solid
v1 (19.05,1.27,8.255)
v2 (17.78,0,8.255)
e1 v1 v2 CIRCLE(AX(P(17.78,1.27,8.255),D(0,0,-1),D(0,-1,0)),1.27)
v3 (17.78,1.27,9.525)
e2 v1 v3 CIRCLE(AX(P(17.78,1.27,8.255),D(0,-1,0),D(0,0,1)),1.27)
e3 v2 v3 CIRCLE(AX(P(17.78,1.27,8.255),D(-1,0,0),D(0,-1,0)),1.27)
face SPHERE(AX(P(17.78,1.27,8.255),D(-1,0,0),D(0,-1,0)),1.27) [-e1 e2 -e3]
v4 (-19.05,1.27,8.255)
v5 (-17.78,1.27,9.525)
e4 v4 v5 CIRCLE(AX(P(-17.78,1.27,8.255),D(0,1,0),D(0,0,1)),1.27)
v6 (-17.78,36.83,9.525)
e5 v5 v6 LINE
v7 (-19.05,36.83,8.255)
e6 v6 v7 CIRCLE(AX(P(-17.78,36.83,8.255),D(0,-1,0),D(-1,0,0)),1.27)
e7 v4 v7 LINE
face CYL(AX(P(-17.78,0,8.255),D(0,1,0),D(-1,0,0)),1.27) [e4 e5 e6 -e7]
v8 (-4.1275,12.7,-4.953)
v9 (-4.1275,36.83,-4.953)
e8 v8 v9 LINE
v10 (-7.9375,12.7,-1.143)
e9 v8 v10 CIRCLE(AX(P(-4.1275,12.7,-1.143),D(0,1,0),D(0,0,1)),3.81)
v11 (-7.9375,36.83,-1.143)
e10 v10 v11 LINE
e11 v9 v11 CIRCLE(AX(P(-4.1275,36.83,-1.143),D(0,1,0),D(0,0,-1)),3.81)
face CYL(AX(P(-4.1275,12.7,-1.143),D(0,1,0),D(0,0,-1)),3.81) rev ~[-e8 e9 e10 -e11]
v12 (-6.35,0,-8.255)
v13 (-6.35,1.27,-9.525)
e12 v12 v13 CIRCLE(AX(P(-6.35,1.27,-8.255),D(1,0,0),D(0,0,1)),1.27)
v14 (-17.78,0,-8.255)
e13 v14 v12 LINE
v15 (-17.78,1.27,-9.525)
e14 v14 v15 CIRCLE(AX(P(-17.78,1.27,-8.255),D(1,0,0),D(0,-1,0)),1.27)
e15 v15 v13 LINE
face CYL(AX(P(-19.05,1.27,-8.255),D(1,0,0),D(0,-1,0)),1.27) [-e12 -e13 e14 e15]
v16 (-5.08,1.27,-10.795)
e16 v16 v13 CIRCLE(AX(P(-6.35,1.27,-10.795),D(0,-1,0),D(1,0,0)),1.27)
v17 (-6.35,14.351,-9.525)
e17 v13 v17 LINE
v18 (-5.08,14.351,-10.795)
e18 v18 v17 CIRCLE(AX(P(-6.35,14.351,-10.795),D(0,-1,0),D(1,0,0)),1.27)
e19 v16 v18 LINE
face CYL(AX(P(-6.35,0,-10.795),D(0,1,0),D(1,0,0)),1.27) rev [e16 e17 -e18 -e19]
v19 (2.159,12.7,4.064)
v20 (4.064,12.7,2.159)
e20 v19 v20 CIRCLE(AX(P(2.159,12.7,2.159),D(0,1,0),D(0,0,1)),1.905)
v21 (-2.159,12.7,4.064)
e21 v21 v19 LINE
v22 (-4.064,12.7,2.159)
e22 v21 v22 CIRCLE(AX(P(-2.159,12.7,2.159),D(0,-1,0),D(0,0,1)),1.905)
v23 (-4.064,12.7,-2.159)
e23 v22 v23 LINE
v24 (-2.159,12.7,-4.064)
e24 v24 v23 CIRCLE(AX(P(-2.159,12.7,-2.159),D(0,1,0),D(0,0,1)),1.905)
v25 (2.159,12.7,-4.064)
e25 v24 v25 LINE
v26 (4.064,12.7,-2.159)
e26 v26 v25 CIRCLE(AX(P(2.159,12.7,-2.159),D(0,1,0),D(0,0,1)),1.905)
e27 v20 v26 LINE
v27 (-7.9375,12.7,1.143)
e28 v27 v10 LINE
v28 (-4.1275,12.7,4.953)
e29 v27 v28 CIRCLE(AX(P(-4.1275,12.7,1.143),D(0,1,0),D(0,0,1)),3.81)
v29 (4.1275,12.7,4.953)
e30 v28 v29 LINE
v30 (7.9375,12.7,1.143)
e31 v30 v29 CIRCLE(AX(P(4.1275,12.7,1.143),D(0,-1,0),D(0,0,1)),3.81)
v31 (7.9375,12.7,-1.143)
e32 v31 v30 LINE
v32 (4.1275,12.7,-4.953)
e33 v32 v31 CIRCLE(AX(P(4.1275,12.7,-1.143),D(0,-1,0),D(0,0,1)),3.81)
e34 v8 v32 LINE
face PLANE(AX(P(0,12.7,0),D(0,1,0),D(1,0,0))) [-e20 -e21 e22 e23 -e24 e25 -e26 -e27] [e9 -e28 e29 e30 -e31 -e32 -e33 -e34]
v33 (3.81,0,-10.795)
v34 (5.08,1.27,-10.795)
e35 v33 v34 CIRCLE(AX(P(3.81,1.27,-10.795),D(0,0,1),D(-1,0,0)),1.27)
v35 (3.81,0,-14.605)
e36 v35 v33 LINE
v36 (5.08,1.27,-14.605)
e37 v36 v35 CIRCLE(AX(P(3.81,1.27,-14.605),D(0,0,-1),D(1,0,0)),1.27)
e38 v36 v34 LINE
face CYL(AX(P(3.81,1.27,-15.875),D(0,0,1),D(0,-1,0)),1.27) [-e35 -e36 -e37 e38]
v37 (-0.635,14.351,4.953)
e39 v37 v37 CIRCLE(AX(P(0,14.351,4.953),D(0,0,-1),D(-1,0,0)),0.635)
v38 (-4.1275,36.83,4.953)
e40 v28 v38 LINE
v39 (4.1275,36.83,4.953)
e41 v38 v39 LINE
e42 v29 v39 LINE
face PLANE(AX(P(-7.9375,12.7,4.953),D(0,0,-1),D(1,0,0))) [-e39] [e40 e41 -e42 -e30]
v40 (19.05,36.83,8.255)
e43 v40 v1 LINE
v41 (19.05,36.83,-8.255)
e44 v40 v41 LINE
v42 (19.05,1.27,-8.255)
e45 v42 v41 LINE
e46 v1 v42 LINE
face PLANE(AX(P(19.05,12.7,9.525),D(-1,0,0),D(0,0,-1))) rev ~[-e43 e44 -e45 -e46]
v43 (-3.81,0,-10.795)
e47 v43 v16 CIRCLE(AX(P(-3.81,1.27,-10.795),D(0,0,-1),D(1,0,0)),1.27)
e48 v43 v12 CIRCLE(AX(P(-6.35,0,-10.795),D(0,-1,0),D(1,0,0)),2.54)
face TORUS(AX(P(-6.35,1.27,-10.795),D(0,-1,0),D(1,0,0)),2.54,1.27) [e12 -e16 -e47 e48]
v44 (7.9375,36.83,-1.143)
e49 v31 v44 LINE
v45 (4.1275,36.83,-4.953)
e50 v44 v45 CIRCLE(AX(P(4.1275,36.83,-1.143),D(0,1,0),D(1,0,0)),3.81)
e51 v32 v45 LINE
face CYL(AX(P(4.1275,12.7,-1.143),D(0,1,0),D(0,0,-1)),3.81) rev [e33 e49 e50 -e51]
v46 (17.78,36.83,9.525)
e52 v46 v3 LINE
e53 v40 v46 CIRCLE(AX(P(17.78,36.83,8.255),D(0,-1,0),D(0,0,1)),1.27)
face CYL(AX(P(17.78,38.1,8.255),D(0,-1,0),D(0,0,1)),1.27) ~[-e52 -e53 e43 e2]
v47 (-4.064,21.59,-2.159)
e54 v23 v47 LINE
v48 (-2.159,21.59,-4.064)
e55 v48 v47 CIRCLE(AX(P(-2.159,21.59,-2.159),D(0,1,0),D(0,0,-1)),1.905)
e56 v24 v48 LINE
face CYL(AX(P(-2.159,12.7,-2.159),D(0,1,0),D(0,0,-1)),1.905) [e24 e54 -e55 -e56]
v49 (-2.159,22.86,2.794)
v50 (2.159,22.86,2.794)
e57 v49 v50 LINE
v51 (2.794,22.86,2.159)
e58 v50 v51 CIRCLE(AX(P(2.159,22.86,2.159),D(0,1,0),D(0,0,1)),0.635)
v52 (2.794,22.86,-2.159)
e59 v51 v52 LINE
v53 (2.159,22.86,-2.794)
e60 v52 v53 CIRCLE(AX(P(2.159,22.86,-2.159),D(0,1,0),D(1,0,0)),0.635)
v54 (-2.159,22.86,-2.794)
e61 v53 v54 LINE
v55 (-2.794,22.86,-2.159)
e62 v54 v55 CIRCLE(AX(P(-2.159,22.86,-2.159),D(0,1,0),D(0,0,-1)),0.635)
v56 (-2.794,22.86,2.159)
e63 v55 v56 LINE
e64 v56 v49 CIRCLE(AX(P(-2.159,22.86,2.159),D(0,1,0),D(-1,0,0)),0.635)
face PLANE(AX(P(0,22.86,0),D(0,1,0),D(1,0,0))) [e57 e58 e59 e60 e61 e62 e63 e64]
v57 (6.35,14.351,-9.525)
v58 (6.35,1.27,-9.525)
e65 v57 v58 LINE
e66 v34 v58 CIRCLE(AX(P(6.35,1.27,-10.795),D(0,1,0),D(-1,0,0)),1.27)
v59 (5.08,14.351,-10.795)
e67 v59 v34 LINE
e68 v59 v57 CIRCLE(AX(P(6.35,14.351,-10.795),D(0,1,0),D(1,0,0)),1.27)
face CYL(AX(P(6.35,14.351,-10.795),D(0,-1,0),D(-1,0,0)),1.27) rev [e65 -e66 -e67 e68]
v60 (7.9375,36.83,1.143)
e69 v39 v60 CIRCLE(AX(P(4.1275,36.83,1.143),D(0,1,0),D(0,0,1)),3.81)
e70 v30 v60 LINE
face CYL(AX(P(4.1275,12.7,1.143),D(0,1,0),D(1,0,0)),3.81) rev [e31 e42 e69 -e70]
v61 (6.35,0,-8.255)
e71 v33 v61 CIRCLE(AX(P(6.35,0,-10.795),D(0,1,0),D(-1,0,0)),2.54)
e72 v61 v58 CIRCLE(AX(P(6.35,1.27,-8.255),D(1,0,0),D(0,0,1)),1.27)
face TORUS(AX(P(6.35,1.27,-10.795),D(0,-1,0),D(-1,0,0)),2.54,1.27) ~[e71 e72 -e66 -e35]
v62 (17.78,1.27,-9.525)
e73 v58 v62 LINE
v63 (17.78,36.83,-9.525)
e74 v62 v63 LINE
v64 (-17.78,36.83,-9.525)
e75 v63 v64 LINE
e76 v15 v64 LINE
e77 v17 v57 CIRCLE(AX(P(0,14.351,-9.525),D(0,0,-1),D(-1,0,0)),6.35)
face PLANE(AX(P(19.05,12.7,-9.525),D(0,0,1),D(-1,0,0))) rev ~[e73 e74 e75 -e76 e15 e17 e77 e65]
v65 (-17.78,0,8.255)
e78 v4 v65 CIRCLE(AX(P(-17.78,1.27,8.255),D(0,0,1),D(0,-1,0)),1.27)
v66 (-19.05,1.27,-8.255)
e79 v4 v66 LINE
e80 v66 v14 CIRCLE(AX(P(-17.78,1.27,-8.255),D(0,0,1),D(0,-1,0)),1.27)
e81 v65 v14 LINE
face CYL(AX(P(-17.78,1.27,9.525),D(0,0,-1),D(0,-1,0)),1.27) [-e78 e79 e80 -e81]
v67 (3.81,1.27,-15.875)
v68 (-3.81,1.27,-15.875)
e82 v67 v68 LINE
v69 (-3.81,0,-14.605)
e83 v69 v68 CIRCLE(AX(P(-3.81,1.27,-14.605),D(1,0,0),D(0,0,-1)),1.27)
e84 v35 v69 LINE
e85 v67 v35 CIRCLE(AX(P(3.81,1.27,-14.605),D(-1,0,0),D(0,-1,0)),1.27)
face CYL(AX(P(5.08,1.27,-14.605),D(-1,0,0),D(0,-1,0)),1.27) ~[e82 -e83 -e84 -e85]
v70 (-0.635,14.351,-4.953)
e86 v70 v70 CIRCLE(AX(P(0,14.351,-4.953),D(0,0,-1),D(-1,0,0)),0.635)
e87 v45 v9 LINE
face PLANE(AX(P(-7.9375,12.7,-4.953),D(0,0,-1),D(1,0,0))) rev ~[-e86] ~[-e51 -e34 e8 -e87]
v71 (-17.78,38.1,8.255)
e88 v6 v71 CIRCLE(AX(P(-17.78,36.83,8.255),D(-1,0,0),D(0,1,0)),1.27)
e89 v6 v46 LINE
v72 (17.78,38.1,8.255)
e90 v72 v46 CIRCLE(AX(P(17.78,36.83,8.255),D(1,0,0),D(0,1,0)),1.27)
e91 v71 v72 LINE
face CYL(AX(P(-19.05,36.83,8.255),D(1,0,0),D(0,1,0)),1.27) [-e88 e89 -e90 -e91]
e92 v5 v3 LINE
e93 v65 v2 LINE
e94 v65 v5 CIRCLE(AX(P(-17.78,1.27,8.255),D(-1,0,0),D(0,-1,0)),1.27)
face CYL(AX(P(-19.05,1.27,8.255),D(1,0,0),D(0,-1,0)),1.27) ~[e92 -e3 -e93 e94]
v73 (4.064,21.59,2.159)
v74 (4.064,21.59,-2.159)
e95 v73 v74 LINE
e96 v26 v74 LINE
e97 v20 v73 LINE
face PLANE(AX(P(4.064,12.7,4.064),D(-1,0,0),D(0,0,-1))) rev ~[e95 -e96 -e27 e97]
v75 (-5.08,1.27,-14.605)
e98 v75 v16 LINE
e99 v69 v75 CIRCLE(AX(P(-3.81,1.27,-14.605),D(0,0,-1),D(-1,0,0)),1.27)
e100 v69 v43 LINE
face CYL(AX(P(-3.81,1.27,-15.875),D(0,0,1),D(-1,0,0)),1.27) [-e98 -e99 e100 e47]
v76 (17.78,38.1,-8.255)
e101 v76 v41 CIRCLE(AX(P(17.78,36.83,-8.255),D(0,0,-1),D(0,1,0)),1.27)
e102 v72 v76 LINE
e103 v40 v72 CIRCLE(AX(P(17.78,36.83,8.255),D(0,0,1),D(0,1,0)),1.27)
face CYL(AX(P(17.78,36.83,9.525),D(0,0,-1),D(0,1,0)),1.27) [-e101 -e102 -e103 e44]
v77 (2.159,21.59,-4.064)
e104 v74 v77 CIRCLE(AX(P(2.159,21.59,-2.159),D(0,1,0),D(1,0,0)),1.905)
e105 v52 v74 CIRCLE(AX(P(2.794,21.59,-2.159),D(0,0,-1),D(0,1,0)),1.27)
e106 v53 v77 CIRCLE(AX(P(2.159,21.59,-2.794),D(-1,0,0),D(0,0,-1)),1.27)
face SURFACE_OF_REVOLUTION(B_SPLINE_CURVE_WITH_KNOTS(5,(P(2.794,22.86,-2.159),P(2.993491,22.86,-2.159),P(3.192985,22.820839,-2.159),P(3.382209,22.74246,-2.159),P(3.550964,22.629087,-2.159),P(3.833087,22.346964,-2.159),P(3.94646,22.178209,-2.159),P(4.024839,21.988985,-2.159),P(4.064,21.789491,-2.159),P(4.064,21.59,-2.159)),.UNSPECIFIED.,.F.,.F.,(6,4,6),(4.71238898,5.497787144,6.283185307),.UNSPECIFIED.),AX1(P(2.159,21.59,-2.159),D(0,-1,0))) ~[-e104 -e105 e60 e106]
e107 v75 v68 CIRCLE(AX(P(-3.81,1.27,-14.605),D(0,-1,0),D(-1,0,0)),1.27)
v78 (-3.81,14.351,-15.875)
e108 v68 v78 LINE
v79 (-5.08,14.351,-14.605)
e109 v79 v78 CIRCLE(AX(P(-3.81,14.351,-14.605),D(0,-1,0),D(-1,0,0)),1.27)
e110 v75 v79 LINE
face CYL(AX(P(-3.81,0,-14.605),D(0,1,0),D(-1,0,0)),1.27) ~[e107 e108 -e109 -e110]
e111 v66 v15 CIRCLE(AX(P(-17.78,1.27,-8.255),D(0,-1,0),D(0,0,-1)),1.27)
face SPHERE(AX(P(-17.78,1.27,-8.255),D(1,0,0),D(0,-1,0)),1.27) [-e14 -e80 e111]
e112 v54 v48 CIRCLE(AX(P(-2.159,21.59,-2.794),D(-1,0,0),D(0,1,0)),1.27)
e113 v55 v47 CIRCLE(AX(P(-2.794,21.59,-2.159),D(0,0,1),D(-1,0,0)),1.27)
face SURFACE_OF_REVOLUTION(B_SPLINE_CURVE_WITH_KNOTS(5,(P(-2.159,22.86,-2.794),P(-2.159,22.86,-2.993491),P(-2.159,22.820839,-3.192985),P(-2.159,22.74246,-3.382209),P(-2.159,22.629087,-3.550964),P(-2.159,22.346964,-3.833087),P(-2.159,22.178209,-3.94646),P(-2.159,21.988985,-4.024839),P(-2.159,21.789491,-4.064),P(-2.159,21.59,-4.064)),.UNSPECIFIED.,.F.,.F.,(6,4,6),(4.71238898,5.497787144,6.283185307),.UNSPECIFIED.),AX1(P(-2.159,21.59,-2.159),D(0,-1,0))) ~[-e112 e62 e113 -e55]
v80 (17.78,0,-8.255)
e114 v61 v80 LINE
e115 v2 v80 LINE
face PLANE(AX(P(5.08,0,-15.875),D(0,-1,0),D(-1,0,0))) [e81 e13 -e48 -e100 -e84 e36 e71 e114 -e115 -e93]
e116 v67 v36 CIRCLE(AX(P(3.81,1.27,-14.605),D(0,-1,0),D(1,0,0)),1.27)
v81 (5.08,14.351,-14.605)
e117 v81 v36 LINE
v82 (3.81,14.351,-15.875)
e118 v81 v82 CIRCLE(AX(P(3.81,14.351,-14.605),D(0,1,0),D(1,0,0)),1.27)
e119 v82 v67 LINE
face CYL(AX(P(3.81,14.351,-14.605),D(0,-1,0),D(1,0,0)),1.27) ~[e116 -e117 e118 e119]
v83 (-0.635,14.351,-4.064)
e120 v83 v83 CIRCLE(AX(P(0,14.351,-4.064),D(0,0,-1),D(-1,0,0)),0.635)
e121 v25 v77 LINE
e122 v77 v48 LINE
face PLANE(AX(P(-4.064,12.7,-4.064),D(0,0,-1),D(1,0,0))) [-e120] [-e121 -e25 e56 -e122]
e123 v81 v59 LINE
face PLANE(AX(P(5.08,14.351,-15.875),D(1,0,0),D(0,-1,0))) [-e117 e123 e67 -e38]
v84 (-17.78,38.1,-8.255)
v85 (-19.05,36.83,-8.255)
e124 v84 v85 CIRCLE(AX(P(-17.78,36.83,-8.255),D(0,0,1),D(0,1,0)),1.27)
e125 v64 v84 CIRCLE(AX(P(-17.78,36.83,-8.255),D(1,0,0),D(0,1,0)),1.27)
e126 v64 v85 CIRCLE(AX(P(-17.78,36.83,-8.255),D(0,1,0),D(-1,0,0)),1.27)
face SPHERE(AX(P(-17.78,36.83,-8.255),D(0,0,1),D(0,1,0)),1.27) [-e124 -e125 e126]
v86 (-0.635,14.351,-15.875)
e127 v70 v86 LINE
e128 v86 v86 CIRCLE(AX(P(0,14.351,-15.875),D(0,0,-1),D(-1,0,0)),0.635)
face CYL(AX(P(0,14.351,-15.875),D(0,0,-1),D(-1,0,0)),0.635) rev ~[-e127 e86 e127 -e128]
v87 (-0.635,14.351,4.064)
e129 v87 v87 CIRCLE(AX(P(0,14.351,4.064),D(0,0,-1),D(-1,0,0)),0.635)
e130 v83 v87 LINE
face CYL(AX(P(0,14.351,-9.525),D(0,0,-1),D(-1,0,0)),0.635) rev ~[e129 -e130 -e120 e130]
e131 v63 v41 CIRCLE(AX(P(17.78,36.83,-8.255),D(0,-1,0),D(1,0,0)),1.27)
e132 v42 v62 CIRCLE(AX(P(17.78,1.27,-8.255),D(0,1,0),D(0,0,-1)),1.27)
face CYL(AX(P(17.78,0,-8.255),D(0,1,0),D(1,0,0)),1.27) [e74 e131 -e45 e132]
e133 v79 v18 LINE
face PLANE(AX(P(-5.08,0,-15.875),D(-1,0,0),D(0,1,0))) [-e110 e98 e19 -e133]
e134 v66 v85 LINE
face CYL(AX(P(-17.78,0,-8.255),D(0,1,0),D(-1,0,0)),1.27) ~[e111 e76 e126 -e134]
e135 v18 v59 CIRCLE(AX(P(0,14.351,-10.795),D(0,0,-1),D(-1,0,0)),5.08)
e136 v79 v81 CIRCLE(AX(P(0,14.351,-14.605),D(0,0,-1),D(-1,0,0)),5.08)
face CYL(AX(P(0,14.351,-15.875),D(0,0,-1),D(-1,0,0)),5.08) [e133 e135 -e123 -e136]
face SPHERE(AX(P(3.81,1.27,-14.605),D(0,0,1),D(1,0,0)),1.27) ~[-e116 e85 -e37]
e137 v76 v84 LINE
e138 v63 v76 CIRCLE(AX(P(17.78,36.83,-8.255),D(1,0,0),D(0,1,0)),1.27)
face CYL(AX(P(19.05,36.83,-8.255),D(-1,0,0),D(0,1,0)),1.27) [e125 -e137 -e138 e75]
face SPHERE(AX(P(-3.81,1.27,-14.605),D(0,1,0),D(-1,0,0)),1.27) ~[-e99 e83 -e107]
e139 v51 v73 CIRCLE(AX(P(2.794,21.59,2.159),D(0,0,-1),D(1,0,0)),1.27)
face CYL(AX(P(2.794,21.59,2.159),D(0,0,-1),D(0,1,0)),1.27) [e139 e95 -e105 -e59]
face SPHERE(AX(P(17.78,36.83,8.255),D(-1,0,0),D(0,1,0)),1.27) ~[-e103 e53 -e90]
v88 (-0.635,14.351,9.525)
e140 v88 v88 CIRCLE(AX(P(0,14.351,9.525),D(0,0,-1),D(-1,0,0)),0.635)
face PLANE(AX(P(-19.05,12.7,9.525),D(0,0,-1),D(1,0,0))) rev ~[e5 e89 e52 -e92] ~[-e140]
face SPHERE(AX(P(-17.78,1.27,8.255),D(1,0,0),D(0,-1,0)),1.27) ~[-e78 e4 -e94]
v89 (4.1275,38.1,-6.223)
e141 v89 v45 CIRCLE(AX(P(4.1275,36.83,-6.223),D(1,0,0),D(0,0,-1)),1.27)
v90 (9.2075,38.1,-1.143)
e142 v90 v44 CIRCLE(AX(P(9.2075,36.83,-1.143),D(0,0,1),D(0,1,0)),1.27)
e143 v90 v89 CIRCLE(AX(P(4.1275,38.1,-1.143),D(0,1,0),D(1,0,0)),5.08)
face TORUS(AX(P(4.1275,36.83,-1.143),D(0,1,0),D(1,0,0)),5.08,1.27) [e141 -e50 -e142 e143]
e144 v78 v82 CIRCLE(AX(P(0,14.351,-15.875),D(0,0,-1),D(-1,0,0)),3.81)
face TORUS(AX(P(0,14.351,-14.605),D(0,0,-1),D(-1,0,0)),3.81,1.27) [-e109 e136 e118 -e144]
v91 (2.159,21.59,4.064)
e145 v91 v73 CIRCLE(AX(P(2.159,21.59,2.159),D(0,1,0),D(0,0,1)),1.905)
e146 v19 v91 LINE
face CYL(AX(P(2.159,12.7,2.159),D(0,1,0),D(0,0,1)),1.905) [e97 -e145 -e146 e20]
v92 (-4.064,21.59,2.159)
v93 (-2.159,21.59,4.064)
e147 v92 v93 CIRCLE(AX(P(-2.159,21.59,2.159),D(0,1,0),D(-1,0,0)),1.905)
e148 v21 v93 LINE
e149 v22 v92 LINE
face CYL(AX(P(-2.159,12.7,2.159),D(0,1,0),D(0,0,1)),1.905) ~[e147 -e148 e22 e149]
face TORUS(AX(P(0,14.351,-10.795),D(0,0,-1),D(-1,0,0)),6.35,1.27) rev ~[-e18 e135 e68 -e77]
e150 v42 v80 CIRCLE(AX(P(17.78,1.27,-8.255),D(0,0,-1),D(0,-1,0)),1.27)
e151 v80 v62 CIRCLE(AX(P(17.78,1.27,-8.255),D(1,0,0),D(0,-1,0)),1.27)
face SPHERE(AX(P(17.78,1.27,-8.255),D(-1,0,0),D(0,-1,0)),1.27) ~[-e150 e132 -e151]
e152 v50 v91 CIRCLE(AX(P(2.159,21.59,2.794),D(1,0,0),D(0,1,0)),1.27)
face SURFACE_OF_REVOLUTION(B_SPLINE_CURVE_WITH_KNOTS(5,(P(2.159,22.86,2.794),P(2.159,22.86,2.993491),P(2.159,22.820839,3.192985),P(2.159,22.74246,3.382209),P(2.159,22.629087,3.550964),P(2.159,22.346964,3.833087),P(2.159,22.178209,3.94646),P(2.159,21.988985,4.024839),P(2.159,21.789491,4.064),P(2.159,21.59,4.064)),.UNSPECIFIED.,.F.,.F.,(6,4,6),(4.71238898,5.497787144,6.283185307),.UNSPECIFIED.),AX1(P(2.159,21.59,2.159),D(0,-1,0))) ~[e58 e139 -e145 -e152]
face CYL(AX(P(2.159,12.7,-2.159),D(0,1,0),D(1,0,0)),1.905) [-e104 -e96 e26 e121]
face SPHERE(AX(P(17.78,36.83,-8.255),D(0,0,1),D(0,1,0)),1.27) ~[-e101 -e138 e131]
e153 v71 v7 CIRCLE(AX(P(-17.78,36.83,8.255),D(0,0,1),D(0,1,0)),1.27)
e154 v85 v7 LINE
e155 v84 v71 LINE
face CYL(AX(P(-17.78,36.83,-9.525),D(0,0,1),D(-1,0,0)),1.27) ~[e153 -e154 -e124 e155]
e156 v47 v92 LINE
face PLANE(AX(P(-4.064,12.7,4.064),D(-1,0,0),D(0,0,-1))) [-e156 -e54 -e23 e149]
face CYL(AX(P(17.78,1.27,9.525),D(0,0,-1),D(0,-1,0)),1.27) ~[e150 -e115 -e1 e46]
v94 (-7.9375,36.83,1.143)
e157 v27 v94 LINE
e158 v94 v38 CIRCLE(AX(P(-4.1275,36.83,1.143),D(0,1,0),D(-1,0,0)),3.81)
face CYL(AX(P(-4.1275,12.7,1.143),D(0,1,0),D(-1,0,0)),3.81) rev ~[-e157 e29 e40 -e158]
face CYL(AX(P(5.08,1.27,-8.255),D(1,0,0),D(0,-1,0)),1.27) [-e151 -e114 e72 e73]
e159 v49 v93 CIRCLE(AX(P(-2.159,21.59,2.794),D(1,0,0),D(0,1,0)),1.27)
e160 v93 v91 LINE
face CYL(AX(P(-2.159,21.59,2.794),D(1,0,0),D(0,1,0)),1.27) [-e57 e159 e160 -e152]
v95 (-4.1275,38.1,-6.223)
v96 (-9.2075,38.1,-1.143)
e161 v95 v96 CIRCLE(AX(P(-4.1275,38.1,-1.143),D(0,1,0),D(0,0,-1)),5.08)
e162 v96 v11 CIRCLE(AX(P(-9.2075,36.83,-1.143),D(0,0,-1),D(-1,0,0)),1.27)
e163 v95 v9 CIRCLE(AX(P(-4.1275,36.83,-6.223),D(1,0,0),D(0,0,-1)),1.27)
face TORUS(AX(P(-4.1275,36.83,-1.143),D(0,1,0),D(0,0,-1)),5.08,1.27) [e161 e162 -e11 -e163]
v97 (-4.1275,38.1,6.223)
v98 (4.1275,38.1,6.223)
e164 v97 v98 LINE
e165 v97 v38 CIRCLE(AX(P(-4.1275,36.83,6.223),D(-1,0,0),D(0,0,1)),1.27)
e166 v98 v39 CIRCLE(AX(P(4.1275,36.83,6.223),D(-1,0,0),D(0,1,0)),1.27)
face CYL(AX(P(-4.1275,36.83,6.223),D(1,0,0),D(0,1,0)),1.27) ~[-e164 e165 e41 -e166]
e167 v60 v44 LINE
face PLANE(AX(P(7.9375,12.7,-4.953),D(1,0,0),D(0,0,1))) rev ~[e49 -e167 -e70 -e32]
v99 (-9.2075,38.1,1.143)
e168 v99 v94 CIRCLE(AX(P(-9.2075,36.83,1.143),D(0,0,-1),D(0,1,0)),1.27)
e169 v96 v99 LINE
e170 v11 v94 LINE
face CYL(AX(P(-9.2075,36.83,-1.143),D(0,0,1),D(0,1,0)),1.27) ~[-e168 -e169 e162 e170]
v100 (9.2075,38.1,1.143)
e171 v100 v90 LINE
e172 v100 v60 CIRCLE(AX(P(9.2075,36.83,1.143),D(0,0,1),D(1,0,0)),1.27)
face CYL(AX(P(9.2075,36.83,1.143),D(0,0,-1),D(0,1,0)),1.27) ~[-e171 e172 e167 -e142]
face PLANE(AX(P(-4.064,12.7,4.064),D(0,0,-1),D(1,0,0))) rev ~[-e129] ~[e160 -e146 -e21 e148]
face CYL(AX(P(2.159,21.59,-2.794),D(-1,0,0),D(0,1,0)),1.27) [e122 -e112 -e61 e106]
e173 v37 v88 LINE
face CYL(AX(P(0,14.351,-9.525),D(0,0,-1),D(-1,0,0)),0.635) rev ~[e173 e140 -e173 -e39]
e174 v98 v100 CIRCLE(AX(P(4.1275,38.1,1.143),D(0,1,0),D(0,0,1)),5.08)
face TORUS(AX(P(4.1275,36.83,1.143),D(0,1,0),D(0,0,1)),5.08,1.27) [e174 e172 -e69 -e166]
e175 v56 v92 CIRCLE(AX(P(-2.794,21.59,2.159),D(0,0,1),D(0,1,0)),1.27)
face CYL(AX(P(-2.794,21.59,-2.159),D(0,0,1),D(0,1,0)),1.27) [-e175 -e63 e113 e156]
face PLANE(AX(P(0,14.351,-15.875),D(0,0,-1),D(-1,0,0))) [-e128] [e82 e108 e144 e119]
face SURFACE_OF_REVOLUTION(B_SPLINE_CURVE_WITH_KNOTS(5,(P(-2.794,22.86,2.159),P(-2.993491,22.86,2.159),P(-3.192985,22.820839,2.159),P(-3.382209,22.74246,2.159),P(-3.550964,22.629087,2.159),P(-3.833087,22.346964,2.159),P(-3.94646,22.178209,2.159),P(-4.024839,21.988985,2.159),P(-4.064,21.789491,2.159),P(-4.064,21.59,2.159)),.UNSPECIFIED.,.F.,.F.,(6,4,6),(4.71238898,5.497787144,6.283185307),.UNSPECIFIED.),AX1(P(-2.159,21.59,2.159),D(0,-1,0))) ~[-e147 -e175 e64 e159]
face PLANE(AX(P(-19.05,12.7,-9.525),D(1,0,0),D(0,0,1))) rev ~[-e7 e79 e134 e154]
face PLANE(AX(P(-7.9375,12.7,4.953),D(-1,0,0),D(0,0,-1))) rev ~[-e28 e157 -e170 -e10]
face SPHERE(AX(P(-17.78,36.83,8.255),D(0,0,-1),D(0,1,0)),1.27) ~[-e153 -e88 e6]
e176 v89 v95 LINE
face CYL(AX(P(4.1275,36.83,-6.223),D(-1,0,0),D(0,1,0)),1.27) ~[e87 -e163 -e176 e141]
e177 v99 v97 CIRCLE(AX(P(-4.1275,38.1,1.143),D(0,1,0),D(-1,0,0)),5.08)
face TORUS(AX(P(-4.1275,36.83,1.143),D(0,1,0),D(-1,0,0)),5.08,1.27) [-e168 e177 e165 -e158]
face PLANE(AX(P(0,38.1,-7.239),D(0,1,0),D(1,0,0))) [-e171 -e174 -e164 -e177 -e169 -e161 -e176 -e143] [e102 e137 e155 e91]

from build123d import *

# Parameters (mm, degrees)
SKETCH1_W           = 38.1
SKETCH1_H           = 19.05
BOSS_EXTRUDE1_DEPTH = 12.7
SKETCH2_W           = 38.1
SKETCH2_H           = 19.05
SKETCH2_W_2         = 15.875
SKETCH2_H_2         = 9.906
BOSS_EXTRUDE2_DEPTH = 25.4
SKETCH2_3_W         = 8.128
SKETCH2_3_H         = 8.128
BOSS_EXTRUDE3_DEPTH = 10.16
FILLET1_R           = 1.905
SKETCH3_R           = 0.635
CUT_EXTRUDE1_DEPTH  = 47.6627796
FILLET2_R           = 3.81
BOSS_EXTRUDE4_START = 6.35
SKETCH4_R           = 0.635
BOSS_EXTRUDE4_DEPTH = 6.35
FILLET3_R           = 1.27


with BuildPart() as part:
    # Sketch1 → Boss-Extrude1 (new body)
    with BuildSketch(Plane(origin=(0, 0, 0), x_dir=(1, 0, 0), z_dir=(0, 1, 0))):
        Rectangle(SKETCH1_W, SKETCH1_H)
    extrude(amount=BOSS_EXTRUDE1_DEPTH)

    # Sketch2 → Boss-Extrude2 (add)
    with BuildSketch(Plane(origin=(0, 12.7, 0), x_dir=(1, 0, 0), z_dir=(0, 1, 0))):
        Rectangle(SKETCH2_W, SKETCH2_H)
        Rectangle(SKETCH2_W_2, SKETCH2_H_2, mode=Mode.SUBTRACT)
    extrude(amount=BOSS_EXTRUDE2_DEPTH)

    # Sketch2<3> → Boss-Extrude3 (add)
    with BuildSketch(Plane(origin=(0, 12.7, 0), x_dir=(1, 0, 0), z_dir=(0, 1, 0))):
        Rectangle(SKETCH2_3_W, SKETCH2_3_H)
    extrude(amount=BOSS_EXTRUDE3_DEPTH)

    # Fillet1
    fillet1_edges = [part.edges().sort_by_distance(p)[0] for p in [
        (-4.064, 17.78, 4.064),
        (4.064, 17.78, 4.064),
        (4.064, 17.78, -4.064),
        (-4.064, 17.78, -4.064),
    ]]
    fillet(fillet1_edges, radius=FILLET1_R)

    # Sketch3 → Cut-Extrude1 (cut, through all)
    with BuildSketch(Plane(origin=(0, 0, -9.525), x_dir=(-1, 0, 0), z_dir=(0, 0, -1))):
        with Locations((0, 14.351)):
            Circle(SKETCH3_R)
    extrude(amount=-CUT_EXTRUDE1_DEPTH, mode=Mode.SUBTRACT)

    # Fillet2
    fillet2_edges = [part.edges().sort_by_distance(p)[0] for p in [
        (7.9375, 25.4, 4.953),
        (7.9375, 25.4, -4.953),
        (-7.9375, 25.4, 4.953),
        (-7.9375, 25.4, -4.953),
    ]]
    fillet(fillet2_edges, radius=FILLET2_R)

    # Sketch4 → Boss-Extrude4 (add)
    with BuildSketch(Plane(origin=(0, 0, -9.525), x_dir=(-1, 0, 0), z_dir=(0, 0, -1)).offset(BOSS_EXTRUDE4_START)):
        with BuildLine():
            Line((5.08, 0), (5.08, 14.351))
            ThreePointArc((5.08, 14.351), (0, 19.431), (-5.08, 14.351))
            Line((-5.08, 14.351), (-5.08, 0))
            Line((-5.08, 0), (5.08, 0))
        make_face()
        with Locations((0, 14.351)):
            Circle(SKETCH4_R, mode=Mode.SUBTRACT)
    extrude(amount=-BOSS_EXTRUDE4_DEPTH)

    # Fillet3
    fillet3_edges = [part.edges().sort_by_distance(p)[0] for p in [
        (-12.065, 0, -9.525),
        (12.065, 0, -9.525),
        (0, 0, 9.525),
        (19.05, 19.05, 9.525),
        (19.05, 19.05, -9.525),
        (19.05, 0, 0),
        (-19.05, 19.05, -9.525),
        (-19.05, 19.05, 9.525),
        (-19.05, 0, 0),
        (6.821576836, 38.1, 3.837076836),
        (7.9375, 38.1, 0),
        (6.821576836, 38.1, -3.837076836),
        (0, 38.1, -4.953),
        (-6.821576836, 38.1, -3.837076836),
        (-7.9375, 38.1, 0),
        (-6.821576836, 38.1, 3.837076836),
        (0, 38.1, 4.953),
        (0, 38.1, -9.525),
        (19.05, 38.1, 0),
        (0, 38.1, 9.525),
        (-19.05, 38.1, 0),
        (-3.506038418, 22.86, -3.506038418),
        (0, 22.86, -4.064),
        (3.506038418, 22.86, -3.506038418),
        (4.064, 22.86, 0),
        (3.506038418, 22.86, 3.506038418),
        (0, 22.86, 4.064),
        (-3.506038418, 22.86, 3.506038418),
        (-4.064, 22.86, 0),
        (5.08, 0, -12.7),
        (0, 0, -15.875),
        (-5.08, 0, -12.7),
        (-5.08, 7.1755, -15.875),
        (0, 19.431, -15.875),
        (-5.08, 7.1755, -9.525),
        (0, 19.431, -9.525),
        (5.08, 7.1755, -15.875),
        (5.08, 7.1755, -9.525),
    ]]
    fillet(fillet3_edges, radius=FILLET3_R)


solid = part.part
